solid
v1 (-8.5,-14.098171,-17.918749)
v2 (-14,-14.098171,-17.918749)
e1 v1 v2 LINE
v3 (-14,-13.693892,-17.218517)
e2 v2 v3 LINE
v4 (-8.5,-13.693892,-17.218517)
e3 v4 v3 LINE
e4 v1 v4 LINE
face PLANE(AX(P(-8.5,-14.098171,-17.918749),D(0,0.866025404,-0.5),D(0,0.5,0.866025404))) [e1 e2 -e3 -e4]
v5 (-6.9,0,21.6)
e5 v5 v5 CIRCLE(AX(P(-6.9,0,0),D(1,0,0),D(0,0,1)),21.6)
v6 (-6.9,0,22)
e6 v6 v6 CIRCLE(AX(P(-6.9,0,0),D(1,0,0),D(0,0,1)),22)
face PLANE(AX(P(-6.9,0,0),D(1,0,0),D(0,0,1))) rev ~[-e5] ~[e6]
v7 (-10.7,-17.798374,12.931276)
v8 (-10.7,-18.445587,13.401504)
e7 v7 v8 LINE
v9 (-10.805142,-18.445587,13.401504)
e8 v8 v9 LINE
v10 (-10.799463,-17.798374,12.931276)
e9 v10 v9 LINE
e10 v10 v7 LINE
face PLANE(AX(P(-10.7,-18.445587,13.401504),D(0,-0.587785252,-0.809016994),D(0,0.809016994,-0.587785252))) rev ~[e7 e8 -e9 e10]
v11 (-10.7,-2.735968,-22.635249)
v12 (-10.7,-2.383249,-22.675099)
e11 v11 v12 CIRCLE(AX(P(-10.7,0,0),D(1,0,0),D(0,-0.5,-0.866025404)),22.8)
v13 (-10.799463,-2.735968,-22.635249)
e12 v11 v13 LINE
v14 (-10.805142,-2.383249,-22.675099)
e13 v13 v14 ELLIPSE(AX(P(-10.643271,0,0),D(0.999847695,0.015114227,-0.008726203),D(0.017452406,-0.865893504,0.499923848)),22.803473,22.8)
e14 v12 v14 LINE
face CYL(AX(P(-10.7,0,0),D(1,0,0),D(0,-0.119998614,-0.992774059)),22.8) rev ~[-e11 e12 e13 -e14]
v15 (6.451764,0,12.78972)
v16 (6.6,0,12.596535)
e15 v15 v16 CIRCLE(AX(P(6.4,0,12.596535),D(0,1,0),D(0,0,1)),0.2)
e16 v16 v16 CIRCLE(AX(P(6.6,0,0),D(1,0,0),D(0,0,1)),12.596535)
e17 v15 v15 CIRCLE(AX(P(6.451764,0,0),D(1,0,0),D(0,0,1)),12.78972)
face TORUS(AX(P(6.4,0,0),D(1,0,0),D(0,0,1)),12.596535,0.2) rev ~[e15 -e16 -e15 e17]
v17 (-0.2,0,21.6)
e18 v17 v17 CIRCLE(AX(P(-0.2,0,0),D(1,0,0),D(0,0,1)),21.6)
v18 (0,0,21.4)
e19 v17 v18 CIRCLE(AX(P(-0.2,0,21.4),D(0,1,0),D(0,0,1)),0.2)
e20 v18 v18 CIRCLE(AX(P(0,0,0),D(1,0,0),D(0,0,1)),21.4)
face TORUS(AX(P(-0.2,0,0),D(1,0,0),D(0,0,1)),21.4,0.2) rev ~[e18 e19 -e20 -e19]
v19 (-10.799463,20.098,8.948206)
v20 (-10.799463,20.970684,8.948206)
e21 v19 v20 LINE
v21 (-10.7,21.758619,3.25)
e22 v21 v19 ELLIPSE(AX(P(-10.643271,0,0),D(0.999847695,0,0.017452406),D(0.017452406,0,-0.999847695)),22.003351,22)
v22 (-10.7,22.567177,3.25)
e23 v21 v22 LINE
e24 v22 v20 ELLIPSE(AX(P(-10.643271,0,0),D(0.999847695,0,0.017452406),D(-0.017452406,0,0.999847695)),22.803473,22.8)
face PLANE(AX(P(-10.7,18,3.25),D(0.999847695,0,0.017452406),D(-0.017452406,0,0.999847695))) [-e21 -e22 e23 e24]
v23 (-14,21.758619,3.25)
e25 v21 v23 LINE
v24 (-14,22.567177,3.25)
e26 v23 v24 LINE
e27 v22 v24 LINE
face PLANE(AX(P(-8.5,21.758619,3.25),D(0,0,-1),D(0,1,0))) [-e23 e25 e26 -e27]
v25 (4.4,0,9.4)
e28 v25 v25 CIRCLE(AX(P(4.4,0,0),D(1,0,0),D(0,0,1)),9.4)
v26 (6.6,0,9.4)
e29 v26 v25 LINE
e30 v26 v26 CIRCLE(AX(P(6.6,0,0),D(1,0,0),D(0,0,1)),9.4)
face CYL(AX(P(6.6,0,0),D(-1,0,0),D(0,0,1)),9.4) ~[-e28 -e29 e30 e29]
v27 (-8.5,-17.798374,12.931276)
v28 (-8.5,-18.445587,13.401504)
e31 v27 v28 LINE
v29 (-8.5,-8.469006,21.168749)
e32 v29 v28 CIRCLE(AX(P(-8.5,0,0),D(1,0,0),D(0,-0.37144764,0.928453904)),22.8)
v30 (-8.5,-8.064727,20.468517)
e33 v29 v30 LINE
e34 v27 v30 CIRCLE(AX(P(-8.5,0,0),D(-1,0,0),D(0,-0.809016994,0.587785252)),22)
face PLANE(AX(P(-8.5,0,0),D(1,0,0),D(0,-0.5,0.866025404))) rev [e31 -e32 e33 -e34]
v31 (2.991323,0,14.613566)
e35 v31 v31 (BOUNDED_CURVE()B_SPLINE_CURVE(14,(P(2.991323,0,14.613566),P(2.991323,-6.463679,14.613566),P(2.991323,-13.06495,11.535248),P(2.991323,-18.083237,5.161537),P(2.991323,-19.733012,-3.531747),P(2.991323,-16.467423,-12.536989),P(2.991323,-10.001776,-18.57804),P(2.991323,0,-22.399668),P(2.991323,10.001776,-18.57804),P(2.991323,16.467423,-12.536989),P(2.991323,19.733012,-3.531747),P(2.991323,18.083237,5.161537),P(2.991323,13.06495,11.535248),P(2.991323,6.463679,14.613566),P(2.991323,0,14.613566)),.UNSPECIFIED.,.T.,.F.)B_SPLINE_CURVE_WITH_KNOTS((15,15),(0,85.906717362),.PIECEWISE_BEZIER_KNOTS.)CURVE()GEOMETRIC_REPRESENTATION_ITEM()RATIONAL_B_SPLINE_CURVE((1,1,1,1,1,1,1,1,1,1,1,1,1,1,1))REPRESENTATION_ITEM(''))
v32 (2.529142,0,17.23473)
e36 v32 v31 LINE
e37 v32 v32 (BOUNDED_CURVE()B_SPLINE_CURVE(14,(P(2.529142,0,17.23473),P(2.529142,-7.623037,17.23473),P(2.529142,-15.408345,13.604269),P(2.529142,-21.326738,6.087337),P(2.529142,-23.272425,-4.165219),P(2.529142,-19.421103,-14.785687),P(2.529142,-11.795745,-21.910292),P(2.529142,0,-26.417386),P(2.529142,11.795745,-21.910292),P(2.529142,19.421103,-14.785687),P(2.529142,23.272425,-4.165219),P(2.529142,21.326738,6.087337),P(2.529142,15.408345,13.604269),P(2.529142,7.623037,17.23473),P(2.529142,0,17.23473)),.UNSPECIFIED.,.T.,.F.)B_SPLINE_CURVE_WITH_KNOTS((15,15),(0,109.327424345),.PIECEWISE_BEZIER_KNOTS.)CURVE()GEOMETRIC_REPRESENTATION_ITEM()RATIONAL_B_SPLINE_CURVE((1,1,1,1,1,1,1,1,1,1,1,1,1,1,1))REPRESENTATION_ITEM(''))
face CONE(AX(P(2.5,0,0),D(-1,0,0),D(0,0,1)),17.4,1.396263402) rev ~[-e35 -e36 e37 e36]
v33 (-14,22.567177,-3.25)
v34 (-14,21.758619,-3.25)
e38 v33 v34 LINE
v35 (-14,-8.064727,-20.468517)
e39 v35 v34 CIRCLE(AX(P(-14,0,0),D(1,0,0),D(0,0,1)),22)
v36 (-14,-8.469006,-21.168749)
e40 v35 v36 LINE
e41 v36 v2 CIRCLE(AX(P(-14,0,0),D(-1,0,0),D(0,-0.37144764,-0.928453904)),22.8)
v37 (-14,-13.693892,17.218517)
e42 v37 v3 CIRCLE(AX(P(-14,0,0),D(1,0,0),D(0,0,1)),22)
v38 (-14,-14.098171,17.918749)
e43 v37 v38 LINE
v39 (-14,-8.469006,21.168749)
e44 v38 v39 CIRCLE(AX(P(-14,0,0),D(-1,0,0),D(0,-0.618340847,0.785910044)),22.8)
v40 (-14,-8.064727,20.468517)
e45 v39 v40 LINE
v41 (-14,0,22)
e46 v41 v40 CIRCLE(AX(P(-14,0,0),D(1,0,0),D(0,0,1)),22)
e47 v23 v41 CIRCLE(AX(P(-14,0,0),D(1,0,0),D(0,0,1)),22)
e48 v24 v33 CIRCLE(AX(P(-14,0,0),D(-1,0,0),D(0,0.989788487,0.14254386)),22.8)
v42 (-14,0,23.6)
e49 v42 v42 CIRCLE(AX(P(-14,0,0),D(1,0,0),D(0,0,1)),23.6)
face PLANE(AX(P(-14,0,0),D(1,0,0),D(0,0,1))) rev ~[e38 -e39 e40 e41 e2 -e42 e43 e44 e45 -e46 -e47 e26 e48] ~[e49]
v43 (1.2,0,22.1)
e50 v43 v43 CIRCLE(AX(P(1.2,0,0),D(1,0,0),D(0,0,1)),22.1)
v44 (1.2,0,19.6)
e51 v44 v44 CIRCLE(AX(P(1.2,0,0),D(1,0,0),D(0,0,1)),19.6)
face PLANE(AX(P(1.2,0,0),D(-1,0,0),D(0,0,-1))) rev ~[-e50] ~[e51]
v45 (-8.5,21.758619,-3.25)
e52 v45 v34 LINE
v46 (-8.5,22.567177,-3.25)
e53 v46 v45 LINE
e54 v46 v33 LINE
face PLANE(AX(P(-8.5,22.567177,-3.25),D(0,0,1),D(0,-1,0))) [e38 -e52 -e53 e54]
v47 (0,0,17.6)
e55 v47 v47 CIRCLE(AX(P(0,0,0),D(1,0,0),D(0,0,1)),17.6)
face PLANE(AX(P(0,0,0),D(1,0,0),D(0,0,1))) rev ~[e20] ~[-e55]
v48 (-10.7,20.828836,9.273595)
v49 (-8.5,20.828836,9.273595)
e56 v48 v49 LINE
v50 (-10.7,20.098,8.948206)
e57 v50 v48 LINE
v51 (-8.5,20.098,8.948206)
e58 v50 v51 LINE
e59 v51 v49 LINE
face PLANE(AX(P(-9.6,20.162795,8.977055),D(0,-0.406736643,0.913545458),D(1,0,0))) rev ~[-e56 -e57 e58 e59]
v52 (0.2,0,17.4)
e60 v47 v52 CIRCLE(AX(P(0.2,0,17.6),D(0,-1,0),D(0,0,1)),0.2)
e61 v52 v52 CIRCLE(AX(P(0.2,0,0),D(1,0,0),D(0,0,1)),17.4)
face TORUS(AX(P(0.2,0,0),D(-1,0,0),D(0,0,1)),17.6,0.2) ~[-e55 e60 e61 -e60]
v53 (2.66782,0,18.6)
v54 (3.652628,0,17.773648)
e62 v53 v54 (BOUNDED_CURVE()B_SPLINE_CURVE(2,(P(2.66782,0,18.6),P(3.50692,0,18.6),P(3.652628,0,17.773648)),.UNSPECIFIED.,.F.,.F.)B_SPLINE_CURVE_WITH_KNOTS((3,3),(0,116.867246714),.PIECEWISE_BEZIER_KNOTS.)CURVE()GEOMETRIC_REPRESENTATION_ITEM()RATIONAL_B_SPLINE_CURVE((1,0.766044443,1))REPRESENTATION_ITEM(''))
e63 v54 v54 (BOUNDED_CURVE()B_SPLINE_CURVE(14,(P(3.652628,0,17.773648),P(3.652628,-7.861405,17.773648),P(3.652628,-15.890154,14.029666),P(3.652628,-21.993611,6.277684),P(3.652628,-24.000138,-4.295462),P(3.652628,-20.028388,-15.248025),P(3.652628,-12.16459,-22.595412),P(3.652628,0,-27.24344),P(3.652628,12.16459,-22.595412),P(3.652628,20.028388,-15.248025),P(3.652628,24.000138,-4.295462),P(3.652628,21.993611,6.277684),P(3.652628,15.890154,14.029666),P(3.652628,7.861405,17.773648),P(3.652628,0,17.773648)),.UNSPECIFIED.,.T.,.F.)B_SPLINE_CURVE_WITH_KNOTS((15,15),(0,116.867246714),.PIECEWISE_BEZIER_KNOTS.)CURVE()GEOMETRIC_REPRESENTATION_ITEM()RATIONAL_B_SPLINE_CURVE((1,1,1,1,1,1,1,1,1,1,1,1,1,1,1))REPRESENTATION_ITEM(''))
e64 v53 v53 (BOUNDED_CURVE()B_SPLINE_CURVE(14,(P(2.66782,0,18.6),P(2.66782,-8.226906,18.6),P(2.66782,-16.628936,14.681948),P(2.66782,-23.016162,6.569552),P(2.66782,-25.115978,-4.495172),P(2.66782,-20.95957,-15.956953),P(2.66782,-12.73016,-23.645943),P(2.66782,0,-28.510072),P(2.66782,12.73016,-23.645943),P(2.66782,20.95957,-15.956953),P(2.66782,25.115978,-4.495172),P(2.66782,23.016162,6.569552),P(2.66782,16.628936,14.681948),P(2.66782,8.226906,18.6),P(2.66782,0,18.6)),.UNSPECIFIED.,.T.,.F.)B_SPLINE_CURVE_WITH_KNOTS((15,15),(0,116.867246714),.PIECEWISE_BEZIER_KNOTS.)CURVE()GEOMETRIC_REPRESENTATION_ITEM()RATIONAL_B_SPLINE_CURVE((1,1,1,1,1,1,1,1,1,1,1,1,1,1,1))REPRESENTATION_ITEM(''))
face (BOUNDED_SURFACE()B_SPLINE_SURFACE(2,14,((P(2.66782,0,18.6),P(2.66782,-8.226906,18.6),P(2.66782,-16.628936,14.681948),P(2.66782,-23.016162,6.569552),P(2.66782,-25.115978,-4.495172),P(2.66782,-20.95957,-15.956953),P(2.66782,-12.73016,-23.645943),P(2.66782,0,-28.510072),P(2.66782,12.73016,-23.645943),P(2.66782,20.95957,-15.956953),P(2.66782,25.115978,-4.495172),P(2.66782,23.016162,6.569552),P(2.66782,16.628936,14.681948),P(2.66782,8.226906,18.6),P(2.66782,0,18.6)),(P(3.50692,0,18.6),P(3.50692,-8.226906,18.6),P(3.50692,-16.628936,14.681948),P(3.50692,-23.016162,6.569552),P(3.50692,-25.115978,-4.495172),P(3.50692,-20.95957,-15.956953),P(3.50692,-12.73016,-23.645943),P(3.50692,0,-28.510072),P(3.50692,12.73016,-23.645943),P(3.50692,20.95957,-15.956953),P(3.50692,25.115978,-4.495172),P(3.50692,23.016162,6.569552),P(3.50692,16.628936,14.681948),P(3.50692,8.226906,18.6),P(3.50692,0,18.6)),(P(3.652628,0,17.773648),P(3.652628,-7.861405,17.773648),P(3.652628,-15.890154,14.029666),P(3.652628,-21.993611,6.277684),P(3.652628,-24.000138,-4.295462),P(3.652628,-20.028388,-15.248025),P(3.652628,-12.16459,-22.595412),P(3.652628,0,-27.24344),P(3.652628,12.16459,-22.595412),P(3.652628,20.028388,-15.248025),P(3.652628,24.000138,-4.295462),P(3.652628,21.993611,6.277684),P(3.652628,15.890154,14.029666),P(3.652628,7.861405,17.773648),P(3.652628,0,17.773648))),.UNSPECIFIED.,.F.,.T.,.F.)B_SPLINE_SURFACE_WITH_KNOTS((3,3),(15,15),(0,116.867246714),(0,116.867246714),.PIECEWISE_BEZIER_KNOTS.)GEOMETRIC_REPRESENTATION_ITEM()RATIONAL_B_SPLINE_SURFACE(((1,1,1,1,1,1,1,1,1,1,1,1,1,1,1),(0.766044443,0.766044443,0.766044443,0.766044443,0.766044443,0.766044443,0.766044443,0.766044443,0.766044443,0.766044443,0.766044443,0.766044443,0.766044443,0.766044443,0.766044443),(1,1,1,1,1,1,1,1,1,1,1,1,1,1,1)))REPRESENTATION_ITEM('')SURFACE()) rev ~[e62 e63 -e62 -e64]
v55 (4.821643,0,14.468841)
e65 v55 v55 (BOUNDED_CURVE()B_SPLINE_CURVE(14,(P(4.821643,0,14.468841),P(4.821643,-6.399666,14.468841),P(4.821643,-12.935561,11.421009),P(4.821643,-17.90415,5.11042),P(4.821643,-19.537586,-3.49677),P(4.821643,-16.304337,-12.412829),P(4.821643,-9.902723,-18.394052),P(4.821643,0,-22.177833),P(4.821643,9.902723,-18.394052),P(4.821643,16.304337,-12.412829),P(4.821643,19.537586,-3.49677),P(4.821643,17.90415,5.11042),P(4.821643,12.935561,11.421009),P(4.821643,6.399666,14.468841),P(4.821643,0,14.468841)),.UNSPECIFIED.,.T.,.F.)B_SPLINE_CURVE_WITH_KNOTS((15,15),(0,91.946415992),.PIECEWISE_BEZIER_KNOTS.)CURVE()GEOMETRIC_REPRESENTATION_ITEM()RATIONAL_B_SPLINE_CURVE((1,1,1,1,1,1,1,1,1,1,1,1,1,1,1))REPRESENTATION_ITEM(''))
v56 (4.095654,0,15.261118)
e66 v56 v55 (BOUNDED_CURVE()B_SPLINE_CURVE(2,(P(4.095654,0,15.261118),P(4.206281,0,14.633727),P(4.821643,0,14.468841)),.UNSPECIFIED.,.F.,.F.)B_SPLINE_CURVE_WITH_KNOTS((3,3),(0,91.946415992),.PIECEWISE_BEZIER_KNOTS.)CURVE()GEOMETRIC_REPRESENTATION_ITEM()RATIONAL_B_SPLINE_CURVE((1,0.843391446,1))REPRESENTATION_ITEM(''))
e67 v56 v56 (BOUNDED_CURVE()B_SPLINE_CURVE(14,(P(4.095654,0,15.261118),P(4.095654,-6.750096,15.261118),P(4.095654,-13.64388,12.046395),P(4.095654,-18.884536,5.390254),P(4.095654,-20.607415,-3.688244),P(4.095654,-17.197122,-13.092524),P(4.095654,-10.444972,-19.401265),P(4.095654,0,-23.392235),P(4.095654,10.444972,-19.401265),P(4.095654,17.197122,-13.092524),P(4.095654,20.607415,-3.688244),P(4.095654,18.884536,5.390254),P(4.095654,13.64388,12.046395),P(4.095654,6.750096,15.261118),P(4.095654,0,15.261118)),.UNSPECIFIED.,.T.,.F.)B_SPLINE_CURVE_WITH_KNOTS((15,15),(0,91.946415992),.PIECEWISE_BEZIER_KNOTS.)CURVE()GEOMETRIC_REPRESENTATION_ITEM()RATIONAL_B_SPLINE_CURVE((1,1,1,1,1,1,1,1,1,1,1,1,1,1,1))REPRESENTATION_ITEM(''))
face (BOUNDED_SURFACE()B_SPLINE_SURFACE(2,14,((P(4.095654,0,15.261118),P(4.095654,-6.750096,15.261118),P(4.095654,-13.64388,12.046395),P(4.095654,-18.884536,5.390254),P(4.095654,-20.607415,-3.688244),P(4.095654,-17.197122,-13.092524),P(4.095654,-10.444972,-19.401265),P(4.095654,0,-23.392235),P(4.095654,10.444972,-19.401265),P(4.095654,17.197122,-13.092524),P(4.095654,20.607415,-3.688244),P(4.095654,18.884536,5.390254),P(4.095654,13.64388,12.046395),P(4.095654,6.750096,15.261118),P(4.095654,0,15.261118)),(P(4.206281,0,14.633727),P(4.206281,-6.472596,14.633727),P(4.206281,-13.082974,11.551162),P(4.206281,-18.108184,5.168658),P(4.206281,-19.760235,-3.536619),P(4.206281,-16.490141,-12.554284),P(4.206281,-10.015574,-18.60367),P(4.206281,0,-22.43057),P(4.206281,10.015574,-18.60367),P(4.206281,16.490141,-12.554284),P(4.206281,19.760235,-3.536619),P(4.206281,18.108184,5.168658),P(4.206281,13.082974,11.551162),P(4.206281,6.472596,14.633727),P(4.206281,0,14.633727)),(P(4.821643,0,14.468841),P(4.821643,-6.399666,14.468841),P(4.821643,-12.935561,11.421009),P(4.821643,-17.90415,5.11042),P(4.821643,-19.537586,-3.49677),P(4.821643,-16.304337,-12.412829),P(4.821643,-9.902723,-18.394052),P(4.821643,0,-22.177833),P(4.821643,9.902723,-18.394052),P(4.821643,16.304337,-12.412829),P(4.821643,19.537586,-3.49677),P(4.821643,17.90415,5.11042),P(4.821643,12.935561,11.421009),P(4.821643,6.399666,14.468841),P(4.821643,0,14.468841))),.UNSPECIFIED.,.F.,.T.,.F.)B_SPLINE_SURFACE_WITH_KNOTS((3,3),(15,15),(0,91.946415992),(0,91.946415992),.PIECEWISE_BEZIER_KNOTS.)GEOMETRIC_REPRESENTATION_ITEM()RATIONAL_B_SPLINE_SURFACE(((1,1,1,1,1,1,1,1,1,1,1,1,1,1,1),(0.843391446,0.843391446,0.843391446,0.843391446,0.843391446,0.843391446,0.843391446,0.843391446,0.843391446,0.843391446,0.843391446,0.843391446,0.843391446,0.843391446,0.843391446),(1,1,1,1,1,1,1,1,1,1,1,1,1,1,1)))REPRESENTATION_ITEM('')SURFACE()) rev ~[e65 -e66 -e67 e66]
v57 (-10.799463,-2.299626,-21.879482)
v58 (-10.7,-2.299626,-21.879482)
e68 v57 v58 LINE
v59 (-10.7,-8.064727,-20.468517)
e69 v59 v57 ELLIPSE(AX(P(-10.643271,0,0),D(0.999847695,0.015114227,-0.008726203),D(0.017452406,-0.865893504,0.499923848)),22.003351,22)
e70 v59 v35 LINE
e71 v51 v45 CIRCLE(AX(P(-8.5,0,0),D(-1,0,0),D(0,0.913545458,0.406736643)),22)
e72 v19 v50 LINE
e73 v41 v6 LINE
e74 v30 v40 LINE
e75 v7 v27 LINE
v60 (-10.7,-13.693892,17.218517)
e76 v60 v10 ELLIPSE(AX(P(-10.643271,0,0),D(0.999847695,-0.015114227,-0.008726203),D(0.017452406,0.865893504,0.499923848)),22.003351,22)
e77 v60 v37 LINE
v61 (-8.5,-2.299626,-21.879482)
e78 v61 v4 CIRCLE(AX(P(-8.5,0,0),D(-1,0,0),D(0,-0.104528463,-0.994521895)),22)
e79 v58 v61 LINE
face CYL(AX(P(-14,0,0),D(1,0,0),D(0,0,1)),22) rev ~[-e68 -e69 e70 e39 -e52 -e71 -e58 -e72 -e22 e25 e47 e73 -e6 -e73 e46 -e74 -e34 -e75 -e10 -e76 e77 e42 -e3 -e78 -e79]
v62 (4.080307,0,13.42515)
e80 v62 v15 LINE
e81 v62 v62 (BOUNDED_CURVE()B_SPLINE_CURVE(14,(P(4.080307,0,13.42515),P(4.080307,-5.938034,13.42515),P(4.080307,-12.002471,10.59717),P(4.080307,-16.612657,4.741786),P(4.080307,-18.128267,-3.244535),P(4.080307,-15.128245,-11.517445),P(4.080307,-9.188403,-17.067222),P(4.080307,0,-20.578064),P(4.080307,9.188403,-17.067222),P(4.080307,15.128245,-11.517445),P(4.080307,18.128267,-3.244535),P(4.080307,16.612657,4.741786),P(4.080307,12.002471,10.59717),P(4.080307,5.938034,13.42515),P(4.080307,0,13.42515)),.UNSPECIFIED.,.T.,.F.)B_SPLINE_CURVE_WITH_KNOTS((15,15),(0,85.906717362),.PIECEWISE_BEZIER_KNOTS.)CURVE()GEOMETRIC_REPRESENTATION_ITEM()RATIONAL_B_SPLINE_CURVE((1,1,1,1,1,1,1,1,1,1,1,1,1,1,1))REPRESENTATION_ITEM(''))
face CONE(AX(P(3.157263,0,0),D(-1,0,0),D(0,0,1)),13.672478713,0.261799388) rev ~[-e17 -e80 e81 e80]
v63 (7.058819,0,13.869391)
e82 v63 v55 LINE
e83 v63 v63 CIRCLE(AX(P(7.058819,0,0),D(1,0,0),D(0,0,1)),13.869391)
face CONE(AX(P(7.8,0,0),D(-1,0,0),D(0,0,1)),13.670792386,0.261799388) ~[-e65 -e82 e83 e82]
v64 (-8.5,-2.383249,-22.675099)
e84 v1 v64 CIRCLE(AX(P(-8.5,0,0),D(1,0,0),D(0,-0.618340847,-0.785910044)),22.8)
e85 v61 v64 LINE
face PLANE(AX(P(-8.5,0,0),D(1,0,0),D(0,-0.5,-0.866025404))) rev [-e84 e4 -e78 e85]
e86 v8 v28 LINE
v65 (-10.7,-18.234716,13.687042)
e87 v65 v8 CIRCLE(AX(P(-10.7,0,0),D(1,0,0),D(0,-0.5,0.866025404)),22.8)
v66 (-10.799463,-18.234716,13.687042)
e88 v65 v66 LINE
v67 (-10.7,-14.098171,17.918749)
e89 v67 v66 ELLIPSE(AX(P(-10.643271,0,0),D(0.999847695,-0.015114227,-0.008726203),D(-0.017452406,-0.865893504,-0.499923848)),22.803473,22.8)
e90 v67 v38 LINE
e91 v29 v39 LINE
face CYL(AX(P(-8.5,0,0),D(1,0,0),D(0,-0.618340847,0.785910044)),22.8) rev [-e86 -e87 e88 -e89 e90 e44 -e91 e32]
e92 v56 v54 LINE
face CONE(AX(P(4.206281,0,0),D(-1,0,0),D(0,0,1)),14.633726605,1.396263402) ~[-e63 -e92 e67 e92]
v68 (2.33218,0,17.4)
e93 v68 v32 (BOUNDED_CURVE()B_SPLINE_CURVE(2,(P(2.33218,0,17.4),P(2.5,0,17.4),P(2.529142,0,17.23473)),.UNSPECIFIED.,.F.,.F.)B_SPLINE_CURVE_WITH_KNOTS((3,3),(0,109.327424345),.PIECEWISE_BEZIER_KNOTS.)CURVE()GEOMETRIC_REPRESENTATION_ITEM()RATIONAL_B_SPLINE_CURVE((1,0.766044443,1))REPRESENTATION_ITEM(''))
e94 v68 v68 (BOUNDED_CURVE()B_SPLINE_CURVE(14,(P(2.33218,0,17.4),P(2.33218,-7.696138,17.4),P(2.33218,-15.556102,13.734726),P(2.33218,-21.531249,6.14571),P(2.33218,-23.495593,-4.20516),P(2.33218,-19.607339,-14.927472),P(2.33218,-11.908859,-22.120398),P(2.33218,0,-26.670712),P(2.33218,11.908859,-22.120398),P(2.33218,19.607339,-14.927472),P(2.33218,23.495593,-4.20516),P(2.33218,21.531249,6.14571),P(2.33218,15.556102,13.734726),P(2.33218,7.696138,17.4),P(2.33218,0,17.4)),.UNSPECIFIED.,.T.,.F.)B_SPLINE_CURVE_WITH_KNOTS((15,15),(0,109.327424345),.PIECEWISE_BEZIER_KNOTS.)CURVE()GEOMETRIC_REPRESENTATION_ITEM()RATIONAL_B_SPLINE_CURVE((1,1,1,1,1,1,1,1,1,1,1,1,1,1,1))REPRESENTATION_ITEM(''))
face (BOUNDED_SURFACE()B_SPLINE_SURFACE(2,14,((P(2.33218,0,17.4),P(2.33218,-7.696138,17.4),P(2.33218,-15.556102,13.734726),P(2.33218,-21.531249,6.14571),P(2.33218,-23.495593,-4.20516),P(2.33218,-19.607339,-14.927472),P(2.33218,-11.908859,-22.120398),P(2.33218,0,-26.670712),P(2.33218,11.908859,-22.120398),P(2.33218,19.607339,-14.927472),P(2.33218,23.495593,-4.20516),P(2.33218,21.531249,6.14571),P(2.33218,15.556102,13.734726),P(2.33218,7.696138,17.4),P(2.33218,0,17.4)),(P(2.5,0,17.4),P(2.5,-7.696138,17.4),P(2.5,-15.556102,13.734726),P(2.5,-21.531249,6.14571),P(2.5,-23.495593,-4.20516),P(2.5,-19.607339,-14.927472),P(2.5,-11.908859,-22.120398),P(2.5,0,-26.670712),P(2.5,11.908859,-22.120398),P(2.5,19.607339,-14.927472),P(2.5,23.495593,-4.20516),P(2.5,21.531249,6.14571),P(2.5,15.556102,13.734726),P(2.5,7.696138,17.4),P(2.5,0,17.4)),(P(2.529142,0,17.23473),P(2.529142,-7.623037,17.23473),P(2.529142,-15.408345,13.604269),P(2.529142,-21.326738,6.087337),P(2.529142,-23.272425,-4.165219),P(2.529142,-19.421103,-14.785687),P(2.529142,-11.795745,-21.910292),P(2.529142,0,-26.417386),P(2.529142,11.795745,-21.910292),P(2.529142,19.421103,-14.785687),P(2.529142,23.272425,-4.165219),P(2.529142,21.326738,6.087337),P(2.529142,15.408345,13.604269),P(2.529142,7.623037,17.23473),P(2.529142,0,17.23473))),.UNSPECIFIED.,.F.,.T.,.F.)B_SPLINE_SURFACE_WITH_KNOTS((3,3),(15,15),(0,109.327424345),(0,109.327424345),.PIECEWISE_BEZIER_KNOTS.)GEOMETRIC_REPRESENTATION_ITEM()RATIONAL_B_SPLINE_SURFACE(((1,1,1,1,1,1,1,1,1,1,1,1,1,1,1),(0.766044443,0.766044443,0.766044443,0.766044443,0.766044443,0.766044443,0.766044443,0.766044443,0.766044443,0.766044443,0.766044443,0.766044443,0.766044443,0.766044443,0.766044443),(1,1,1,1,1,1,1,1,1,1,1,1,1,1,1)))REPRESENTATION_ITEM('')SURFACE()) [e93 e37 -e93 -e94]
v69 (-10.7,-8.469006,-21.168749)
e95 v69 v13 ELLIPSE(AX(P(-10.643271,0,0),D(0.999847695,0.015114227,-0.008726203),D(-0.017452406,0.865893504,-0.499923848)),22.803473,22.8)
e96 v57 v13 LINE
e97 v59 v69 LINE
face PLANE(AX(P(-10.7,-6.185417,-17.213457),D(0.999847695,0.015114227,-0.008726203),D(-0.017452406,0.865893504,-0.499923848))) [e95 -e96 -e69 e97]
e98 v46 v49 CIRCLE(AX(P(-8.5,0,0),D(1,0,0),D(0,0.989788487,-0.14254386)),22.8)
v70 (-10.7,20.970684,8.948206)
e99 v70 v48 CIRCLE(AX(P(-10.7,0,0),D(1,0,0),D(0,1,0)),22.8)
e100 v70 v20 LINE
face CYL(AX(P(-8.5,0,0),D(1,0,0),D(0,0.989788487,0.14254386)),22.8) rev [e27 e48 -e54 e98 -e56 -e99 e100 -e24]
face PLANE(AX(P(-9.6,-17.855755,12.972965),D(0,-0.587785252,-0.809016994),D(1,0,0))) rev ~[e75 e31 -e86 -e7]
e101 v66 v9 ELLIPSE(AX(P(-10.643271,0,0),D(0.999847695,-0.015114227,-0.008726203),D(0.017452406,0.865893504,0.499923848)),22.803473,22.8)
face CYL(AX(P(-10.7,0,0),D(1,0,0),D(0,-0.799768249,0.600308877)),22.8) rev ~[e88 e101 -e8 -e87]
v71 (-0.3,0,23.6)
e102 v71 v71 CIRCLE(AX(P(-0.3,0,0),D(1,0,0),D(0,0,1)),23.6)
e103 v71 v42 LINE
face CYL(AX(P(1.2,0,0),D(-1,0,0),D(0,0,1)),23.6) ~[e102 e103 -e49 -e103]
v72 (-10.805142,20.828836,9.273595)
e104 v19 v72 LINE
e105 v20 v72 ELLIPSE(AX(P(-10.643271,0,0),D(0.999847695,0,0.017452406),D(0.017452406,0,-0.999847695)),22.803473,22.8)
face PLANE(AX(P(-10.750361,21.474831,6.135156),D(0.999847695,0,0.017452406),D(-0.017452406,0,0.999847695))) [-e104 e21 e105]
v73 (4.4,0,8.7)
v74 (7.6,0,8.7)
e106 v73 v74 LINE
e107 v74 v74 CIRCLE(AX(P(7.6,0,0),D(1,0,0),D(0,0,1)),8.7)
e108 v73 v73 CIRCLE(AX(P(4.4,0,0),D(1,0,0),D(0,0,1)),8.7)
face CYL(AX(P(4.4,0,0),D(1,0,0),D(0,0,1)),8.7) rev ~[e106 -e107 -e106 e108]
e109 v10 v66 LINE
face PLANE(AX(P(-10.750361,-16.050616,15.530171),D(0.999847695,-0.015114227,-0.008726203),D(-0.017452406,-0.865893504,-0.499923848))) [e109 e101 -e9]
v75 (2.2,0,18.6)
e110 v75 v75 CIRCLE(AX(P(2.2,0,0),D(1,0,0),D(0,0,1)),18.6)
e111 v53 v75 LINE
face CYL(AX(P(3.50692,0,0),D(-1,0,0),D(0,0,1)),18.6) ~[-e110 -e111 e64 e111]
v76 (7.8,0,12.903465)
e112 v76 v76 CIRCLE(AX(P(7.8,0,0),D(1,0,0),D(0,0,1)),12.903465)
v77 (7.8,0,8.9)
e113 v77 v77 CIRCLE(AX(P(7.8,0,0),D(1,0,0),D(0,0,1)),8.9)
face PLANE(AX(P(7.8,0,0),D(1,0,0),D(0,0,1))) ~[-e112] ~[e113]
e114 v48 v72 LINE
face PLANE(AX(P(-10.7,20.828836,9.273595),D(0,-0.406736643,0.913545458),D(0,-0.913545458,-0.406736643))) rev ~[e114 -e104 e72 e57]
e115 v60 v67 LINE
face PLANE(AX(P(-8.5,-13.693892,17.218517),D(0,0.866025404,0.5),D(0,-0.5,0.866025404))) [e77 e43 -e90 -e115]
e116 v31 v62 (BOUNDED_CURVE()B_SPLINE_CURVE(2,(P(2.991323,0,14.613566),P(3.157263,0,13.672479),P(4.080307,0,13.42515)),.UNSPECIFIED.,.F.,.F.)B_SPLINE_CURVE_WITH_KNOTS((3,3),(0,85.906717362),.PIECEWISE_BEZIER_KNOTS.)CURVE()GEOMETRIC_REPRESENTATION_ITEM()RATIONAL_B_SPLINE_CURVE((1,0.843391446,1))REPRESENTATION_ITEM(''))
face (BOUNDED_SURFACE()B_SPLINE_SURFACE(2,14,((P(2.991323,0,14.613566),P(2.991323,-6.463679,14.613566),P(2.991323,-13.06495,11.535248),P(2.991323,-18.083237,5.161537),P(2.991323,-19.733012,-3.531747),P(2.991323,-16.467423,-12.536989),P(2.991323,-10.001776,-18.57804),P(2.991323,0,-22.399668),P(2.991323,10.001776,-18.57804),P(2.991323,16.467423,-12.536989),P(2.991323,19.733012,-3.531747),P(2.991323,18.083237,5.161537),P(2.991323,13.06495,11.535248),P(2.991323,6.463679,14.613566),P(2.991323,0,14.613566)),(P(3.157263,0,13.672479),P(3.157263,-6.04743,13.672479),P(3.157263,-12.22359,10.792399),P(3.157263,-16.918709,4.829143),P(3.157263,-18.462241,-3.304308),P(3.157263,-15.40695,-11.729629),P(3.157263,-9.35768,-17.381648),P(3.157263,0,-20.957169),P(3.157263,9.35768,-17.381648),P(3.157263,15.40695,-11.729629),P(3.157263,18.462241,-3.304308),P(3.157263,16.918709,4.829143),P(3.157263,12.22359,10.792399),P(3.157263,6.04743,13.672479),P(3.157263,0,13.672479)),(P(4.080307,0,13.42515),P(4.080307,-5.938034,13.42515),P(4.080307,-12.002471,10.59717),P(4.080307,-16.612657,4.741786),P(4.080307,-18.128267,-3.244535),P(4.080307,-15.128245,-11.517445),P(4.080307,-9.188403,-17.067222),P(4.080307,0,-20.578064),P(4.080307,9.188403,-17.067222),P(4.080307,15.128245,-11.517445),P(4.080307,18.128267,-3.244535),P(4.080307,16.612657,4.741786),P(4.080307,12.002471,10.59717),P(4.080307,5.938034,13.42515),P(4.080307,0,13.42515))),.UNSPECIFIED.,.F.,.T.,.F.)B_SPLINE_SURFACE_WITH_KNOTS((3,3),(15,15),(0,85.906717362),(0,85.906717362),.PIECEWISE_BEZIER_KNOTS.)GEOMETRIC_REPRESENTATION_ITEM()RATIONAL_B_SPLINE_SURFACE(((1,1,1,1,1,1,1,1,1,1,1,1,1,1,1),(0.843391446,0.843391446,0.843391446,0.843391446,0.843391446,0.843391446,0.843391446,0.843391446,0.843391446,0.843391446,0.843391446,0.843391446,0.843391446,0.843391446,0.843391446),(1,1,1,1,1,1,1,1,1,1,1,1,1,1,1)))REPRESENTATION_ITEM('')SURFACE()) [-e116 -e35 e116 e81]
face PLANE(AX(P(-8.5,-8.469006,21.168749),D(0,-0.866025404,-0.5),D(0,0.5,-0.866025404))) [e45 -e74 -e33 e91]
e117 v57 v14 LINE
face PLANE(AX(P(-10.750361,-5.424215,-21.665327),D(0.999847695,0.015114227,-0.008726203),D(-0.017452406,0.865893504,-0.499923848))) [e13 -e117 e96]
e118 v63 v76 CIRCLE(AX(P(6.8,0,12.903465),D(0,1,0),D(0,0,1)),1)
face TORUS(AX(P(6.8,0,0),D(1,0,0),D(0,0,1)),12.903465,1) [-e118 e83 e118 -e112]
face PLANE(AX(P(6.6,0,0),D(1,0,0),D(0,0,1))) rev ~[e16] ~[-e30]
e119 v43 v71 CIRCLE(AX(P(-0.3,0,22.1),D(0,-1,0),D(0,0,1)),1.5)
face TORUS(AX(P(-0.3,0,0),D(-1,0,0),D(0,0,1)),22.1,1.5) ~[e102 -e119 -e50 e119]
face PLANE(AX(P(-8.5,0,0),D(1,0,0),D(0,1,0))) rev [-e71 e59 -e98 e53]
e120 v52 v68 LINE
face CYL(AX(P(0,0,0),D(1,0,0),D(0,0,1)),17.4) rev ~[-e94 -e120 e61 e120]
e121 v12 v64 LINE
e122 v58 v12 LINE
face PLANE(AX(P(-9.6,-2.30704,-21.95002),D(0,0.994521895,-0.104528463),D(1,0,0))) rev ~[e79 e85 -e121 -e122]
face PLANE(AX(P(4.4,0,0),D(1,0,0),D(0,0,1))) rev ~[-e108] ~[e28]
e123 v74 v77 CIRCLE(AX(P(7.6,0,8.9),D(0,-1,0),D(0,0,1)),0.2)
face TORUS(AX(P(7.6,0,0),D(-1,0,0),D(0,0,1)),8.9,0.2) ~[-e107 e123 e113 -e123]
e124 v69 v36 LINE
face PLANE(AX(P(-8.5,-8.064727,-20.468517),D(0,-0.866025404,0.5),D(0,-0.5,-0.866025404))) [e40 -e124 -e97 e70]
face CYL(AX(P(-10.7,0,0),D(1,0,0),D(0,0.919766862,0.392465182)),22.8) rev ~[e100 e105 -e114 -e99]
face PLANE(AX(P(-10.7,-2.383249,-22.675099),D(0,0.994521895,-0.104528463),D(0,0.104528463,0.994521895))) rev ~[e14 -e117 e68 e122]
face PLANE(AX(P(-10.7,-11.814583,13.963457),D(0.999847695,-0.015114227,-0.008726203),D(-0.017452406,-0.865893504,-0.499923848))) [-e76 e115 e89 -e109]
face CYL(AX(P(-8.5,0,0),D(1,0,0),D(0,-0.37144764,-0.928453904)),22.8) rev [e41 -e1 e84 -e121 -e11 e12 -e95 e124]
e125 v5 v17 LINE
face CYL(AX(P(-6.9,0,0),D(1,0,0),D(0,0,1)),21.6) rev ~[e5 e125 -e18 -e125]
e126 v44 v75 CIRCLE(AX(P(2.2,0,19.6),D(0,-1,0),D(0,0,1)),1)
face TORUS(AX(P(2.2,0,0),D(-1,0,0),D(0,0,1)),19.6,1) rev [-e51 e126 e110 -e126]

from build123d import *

# Parameters (mm, degrees)
FILLET_1_R               = 0.2
FILLET_2_R               = 1
FILLET_3_R               = 1.5
CUT_EXTRUDE_START        = -1
CUT_EXTRUDE_1_DEPTH      = 1
CUT_EXTRUDE_START_2      = -5.5
CUT_EXTRUDE_2_DEPTH      = 5.5
SKETCH_5_W               = 2.200000000000001
SKETCH_5_H               = 1.458146796235166
CUT_REVOLVE_1_ANGLE      = 24.000000000000053
CUT_EXTRUDE_3_REACH      = 51.835
CUT_EXTRUDE_3_END_RADIUS = 22.8
PATTERN_CIRCULAR_1_COUNT = 3
CUT_EXTRUDE_5_REACH      = 40.16
PATTERN_CIRCULAR_3_COUNT = 3
CUT_EXTRUDE_6_REACH      = 40.16
CUT_EXTRUDE_7_REACH      = 40.16


with BuildPart() as part:
    # 草图2 → 旋转1 (revolve)
    with BuildSketch(Plane.XY, mode=Mode.PRIVATE) as revolve_1_sk:
        Polygon((-13.999999999999998, 22), (-6.899999999999999, 22), (-6.899999999999999, 21.599999999999998), (1.73e-15, 21.599999999999998), (2.28e-15, 17.4), (2.500000000000002, 17.4), (3.157262574057294, 13.672478713033763), (6.600000000000001, 12.75), (6.600000000000003, 9.4), (4.400000000000003, 9.4), (4.400000000000003, 8.700000000000001), (7.800000000000003, 8.700000000000001), (7.800000000000003, 13.670792385574746), (4.206280569869923, 14.633726604702153), (3.506919557412737, 18.599999999999998), (1.200000000000002, 18.599999999999998), (1.2000000000000015, 23.599999999999998), (-13.999999999999998, 23.599999999999998), align=None)
    revolve(revolve_1_sk.sketch.rotate(Axis((-36.93660531697341, 0, 0), (1, 0, 0)), 90), axis=Axis((-36.93660531697341, 0, 0), (1, 0, 0)))

    # 圆角1
    fillet_1_edges = [part.edges().sort_by_distance(p)[0] for p in [
        (0, 4.55e-15, -21.599999999999998),
        (0, -4.06e-15, -17.4),
        (2.5, -4.06e-15, -17.4),
        (6.600000000000001, -2.98e-15, -12.75),
        (7.800000000000004, -2.03e-15, -8.700000000000001),
    ]]
    fillet(fillet_1_edges, radius=FILLET_1_R)

    # 圆角2
    fillet_2_edges = [part.edges().sort_by_distance(p)[0] for p in [
        (7.800000000000004, -3.19e-15, -13.670792385574746),
        (4.206280569869925, -3.42e-15, -14.633726604702153),
        (3.5069195574127363, -4.34e-15, -18.599999999999998),
        (1.2000000000000028, -4.34e-15, -18.599999999999998),
    ]]
    fillet(fillet_2_edges, radius=FILLET_2_R)

    # 圆角3
    fillet_3_edges = [part.edges().sort_by_distance(p)[0] for p in [
        (3.1572625740572917, -3.19e-15, -13.672478713033763),
        (1.2000000000000028, -5.51e-15, -23.599999999999998),
    ]]
    fillet(fillet_3_edges, radius=FILLET_3_R)

    # 草图3 → 切除-拉伸1 (cut)
    with BuildSketch(Plane.ZY.offset(13.999999999999998).offset(CUT_EXTRUDE_START)):
        with BuildLine():
            Line((-0.49999999999999933, 22.599999999999998), (0.5000000000000004, 22.599999999999998))
            Line((0.5000000000000004, 22.599999999999998), (0.5000000000000006, 21.99431744792277))
            ThreePointArc((0.5000000000000006, 21.99431744792277), (1.35e-15, 22), (-0.4999999999999993, 21.99431744792277))
            Line((-0.4999999999999993, 21.99431744792277), (-0.49999999999999933, 22.599999999999998))
        make_face()
    extrude(amount=CUT_EXTRUDE_1_DEPTH, mode=Mode.SUBTRACT)

    # 草图4 → 切除-拉伸2 (cut)
    with BuildSketch(Plane.ZY.offset(13.999999999999998).offset(CUT_EXTRUDE_START_2)):
        with BuildLine():
            Line((-3.2499999999999982, 22.56717749298747), (-3.2499999999999987, 21.75861898191151))
            ThreePointArc((-3.2499999999999987, 21.75861898191151), (1.35e-15, 21.999999999999996), (3.2500000000000013, 21.75861898191151))
            Line((3.2500000000000013, 21.75861898191151), (3.2500000000000018, 22.567177492987465))
            ThreePointArc((3.2500000000000018, 22.567177492987465), (1.4e-15, 22.8), (-3.2499999999999982, 22.56717749298747))
        make_face()
    cut_extrude_2 = extrude(amount=CUT_EXTRUDE_2_DEPTH, mode=Mode.SUBTRACT)

    # 草图5 → 切除-旋转1 (revolve, cut)
    with BuildSketch(Plane.XY):
        with Locations((-9.599999999999994, 22.070926601882412)):
            Rectangle(SKETCH_5_W, SKETCH_5_H)
    cut_revolve_1 = revolve(axis=Axis((16.624194515447005, 0, 0), (1, 0, 0)), revolution_arc=CUT_REVOLVE_1_ANGLE, mode=Mode.SUBTRACT)

    # 切除-拉伸3: up to this cylinder (the profile starts inside it)
    cut_extrude_3_end = Plane(origin=(-10.733154, 0, 0), z_dir=(-1, 0, 0)) * Cylinder(CUT_EXTRUDE_3_END_RADIUS, 150.27, mode=Mode.PRIVATE)
    # 草图6 → 切除-拉伸3 (cut, up to the surface)
    with BuildSketch(Plane(origin=(0, 18, 0), x_dir=(1, 0, 0), z_dir=(0, 1, 0)), mode=Mode.PRIVATE) as cut_extrude_3_sk1:
        Polygon((-10.699999999999994, -8.948206147667621), (-10.699999999999994, -3.2500000000000013), (-10.799462558281862, -8.948206147667621), align=None)
    cut_extrude_3_tool1 = extrude(cut_extrude_3_sk1.sketch, amount=CUT_EXTRUDE_3_REACH, mode=Mode.PRIVATE) & cut_extrude_3_end
    cut_extrude_3 = cut_extrude_3_tool1.solids().sort_by_distance((-10.733154, 18, 7.048804))[0]
    add(cut_extrude_3, mode=Mode.SUBTRACT)

    # 阵列(圆周)1: 切除-拉伸2, 切除-旋转1 ×3 about axis
    pattern_circular_1_axis = Axis((0, 5e-17, 2e-16), (1, 0, 0))
    add([cut_extrude_2.rotate(pattern_circular_1_axis, i * 360 / PATTERN_CIRCULAR_1_COUNT) for i in range(1, PATTERN_CIRCULAR_1_COUNT)], mode=Mode.SUBTRACT)
    add([cut_revolve_1.rotate(pattern_circular_1_axis, i * 360 / PATTERN_CIRCULAR_1_COUNT) for i in range(1, PATTERN_CIRCULAR_1_COUNT)], mode=Mode.SUBTRACT)

    # 切除-拉伸5: up to this face of the body (flat: up to its plane)
    cut_extrude_5_end = Plane(part.part.faces().sort_by_distance((-10.750360581, 21.4748312, 6.135155752))[0])
    # 草图9 → 切除-拉伸5 (cut, up to the picked face)
    with BuildSketch(Plane(origin=(-10.699999999999994, 0, 0), x_dir=(0, 0, -1), z_dir=(1, 0, 0)), mode=Mode.PRIVATE) as cut_extrude_5_sk1:
        with BuildLine():
            Line((-9.273595462128261, 20.82883643425129), (-8.948206147667621, 20.09800006813721))
            Line((-8.948206147667621, 20.09800006813721), (-8.948206147667618, 20.970684460428163))
            ThreePointArc((-8.948206147667618, 20.970684460428163), (-9.111176855506788, 20.90039368786333), (-9.273595462128261, 20.82883643425129))
        make_face()
    cut_extrude_5_tool1 = split(extrude(cut_extrude_5_sk1.sketch, amount=-CUT_EXTRUDE_5_REACH, mode=Mode.PRIVATE), bisect_by=cut_extrude_5_end, keep=Keep.BOTH, mode=Mode.PRIVATE)
    add(cut_extrude_5_tool1.solids().sort_by(Axis((-10.7, 20.632815, 9.056732), (-1, 0, 0)))[0], mode=Mode.SUBTRACT)

    # 阵列(圆周)3: 切除-拉伸3 ×3 about axis
    pattern_circular_3_axis = Axis((0, 0, 3e-17), (1, 0, 0))
    for i in range(1, PATTERN_CIRCULAR_3_COUNT):
        add(cut_extrude_3.rotate(pattern_circular_3_axis, i * 360 / PATTERN_CIRCULAR_3_COUNT), mode=Mode.SUBTRACT)

    # 切除-拉伸6: up to this face of the body (flat: up to its plane)
    cut_extrude_6_end = Plane(part.part.faces().sort_by_distance((-10.750360581, -5.424214863, -21.665327237))[0])
    # 草图10 → 切除-拉伸6 (cut, up to the picked face)
    with BuildSketch(Plane(origin=(-10.699999999999994, 0, 0), x_dir=(0, 0, -1), z_dir=(1, 0, 0)), mode=Mode.PRIVATE) as cut_extrude_6_sk1:
        with BuildLine():
            Line((22.675099214396656, -2.383248962502268), (21.879481698102033, -2.2996261918881546))
            Line((21.879481698102033, -2.2996261918881546), (22.63524855131219, -2.7359683880336263))
            ThreePointArc((22.63524855131219, -2.7359683880336263), (22.655860310538994, -2.5596862286897593), (22.675099214396656, -2.383248962502268))
        make_face()
    cut_extrude_6_tool1 = split(extrude(cut_extrude_6_sk1.sketch, amount=-CUT_EXTRUDE_6_REACH, mode=Mode.PRIVATE), bisect_by=cut_extrude_6_end, keep=Keep.BOTH, mode=Mode.PRIVATE)
    add(cut_extrude_6_tool1.solids().sort_by(Axis((-10.7, -2.473048, -22.396907), (-1, 0, 0)))[0], mode=Mode.SUBTRACT)

    # 切除-拉伸7: up to this face of the body (flat: up to its plane)
    cut_extrude_7_end = Plane(part.part.faces().sort_by_distance((-10.750360581, -16.050616337, 15.530171486))[0])
    # 草图11 → 切除-拉伸7 (cut, up to the picked face)
    with BuildSketch(Plane(origin=(-10.699999999999994, 0, 0), x_dir=(0, 0, -1), z_dir=(1, 0, 0)), mode=Mode.PRIVATE) as cut_extrude_7_sk1:
        with BuildLine():
            Line((-13.401503752268288, -18.445587471748876), (-12.93127555043432, -17.79837387624892))
            Line((-12.93127555043432, -17.79837387624892), (-13.687042403644462, -18.234716072394395))
            ThreePointArc((-13.687042403644462, -18.234716072394395), (-13.5446834550321, -18.340707459173426), (-13.401503752268288, -18.445587471748876))
        make_face()
    cut_extrude_7_tool1 = split(extrude(cut_extrude_7_sk1.sketch, amount=-CUT_EXTRUDE_7_REACH, mode=Mode.PRIVATE), bisect_by=cut_extrude_7_end, keep=Keep.BOTH, mode=Mode.PRIVATE)
    add(cut_extrude_7_tool1.solids().sort_by(Axis((-10.7, -18.159767, 13.340176), (-1, 0, 0)))[0], mode=Mode.SUBTRACT)


solid = part.part
